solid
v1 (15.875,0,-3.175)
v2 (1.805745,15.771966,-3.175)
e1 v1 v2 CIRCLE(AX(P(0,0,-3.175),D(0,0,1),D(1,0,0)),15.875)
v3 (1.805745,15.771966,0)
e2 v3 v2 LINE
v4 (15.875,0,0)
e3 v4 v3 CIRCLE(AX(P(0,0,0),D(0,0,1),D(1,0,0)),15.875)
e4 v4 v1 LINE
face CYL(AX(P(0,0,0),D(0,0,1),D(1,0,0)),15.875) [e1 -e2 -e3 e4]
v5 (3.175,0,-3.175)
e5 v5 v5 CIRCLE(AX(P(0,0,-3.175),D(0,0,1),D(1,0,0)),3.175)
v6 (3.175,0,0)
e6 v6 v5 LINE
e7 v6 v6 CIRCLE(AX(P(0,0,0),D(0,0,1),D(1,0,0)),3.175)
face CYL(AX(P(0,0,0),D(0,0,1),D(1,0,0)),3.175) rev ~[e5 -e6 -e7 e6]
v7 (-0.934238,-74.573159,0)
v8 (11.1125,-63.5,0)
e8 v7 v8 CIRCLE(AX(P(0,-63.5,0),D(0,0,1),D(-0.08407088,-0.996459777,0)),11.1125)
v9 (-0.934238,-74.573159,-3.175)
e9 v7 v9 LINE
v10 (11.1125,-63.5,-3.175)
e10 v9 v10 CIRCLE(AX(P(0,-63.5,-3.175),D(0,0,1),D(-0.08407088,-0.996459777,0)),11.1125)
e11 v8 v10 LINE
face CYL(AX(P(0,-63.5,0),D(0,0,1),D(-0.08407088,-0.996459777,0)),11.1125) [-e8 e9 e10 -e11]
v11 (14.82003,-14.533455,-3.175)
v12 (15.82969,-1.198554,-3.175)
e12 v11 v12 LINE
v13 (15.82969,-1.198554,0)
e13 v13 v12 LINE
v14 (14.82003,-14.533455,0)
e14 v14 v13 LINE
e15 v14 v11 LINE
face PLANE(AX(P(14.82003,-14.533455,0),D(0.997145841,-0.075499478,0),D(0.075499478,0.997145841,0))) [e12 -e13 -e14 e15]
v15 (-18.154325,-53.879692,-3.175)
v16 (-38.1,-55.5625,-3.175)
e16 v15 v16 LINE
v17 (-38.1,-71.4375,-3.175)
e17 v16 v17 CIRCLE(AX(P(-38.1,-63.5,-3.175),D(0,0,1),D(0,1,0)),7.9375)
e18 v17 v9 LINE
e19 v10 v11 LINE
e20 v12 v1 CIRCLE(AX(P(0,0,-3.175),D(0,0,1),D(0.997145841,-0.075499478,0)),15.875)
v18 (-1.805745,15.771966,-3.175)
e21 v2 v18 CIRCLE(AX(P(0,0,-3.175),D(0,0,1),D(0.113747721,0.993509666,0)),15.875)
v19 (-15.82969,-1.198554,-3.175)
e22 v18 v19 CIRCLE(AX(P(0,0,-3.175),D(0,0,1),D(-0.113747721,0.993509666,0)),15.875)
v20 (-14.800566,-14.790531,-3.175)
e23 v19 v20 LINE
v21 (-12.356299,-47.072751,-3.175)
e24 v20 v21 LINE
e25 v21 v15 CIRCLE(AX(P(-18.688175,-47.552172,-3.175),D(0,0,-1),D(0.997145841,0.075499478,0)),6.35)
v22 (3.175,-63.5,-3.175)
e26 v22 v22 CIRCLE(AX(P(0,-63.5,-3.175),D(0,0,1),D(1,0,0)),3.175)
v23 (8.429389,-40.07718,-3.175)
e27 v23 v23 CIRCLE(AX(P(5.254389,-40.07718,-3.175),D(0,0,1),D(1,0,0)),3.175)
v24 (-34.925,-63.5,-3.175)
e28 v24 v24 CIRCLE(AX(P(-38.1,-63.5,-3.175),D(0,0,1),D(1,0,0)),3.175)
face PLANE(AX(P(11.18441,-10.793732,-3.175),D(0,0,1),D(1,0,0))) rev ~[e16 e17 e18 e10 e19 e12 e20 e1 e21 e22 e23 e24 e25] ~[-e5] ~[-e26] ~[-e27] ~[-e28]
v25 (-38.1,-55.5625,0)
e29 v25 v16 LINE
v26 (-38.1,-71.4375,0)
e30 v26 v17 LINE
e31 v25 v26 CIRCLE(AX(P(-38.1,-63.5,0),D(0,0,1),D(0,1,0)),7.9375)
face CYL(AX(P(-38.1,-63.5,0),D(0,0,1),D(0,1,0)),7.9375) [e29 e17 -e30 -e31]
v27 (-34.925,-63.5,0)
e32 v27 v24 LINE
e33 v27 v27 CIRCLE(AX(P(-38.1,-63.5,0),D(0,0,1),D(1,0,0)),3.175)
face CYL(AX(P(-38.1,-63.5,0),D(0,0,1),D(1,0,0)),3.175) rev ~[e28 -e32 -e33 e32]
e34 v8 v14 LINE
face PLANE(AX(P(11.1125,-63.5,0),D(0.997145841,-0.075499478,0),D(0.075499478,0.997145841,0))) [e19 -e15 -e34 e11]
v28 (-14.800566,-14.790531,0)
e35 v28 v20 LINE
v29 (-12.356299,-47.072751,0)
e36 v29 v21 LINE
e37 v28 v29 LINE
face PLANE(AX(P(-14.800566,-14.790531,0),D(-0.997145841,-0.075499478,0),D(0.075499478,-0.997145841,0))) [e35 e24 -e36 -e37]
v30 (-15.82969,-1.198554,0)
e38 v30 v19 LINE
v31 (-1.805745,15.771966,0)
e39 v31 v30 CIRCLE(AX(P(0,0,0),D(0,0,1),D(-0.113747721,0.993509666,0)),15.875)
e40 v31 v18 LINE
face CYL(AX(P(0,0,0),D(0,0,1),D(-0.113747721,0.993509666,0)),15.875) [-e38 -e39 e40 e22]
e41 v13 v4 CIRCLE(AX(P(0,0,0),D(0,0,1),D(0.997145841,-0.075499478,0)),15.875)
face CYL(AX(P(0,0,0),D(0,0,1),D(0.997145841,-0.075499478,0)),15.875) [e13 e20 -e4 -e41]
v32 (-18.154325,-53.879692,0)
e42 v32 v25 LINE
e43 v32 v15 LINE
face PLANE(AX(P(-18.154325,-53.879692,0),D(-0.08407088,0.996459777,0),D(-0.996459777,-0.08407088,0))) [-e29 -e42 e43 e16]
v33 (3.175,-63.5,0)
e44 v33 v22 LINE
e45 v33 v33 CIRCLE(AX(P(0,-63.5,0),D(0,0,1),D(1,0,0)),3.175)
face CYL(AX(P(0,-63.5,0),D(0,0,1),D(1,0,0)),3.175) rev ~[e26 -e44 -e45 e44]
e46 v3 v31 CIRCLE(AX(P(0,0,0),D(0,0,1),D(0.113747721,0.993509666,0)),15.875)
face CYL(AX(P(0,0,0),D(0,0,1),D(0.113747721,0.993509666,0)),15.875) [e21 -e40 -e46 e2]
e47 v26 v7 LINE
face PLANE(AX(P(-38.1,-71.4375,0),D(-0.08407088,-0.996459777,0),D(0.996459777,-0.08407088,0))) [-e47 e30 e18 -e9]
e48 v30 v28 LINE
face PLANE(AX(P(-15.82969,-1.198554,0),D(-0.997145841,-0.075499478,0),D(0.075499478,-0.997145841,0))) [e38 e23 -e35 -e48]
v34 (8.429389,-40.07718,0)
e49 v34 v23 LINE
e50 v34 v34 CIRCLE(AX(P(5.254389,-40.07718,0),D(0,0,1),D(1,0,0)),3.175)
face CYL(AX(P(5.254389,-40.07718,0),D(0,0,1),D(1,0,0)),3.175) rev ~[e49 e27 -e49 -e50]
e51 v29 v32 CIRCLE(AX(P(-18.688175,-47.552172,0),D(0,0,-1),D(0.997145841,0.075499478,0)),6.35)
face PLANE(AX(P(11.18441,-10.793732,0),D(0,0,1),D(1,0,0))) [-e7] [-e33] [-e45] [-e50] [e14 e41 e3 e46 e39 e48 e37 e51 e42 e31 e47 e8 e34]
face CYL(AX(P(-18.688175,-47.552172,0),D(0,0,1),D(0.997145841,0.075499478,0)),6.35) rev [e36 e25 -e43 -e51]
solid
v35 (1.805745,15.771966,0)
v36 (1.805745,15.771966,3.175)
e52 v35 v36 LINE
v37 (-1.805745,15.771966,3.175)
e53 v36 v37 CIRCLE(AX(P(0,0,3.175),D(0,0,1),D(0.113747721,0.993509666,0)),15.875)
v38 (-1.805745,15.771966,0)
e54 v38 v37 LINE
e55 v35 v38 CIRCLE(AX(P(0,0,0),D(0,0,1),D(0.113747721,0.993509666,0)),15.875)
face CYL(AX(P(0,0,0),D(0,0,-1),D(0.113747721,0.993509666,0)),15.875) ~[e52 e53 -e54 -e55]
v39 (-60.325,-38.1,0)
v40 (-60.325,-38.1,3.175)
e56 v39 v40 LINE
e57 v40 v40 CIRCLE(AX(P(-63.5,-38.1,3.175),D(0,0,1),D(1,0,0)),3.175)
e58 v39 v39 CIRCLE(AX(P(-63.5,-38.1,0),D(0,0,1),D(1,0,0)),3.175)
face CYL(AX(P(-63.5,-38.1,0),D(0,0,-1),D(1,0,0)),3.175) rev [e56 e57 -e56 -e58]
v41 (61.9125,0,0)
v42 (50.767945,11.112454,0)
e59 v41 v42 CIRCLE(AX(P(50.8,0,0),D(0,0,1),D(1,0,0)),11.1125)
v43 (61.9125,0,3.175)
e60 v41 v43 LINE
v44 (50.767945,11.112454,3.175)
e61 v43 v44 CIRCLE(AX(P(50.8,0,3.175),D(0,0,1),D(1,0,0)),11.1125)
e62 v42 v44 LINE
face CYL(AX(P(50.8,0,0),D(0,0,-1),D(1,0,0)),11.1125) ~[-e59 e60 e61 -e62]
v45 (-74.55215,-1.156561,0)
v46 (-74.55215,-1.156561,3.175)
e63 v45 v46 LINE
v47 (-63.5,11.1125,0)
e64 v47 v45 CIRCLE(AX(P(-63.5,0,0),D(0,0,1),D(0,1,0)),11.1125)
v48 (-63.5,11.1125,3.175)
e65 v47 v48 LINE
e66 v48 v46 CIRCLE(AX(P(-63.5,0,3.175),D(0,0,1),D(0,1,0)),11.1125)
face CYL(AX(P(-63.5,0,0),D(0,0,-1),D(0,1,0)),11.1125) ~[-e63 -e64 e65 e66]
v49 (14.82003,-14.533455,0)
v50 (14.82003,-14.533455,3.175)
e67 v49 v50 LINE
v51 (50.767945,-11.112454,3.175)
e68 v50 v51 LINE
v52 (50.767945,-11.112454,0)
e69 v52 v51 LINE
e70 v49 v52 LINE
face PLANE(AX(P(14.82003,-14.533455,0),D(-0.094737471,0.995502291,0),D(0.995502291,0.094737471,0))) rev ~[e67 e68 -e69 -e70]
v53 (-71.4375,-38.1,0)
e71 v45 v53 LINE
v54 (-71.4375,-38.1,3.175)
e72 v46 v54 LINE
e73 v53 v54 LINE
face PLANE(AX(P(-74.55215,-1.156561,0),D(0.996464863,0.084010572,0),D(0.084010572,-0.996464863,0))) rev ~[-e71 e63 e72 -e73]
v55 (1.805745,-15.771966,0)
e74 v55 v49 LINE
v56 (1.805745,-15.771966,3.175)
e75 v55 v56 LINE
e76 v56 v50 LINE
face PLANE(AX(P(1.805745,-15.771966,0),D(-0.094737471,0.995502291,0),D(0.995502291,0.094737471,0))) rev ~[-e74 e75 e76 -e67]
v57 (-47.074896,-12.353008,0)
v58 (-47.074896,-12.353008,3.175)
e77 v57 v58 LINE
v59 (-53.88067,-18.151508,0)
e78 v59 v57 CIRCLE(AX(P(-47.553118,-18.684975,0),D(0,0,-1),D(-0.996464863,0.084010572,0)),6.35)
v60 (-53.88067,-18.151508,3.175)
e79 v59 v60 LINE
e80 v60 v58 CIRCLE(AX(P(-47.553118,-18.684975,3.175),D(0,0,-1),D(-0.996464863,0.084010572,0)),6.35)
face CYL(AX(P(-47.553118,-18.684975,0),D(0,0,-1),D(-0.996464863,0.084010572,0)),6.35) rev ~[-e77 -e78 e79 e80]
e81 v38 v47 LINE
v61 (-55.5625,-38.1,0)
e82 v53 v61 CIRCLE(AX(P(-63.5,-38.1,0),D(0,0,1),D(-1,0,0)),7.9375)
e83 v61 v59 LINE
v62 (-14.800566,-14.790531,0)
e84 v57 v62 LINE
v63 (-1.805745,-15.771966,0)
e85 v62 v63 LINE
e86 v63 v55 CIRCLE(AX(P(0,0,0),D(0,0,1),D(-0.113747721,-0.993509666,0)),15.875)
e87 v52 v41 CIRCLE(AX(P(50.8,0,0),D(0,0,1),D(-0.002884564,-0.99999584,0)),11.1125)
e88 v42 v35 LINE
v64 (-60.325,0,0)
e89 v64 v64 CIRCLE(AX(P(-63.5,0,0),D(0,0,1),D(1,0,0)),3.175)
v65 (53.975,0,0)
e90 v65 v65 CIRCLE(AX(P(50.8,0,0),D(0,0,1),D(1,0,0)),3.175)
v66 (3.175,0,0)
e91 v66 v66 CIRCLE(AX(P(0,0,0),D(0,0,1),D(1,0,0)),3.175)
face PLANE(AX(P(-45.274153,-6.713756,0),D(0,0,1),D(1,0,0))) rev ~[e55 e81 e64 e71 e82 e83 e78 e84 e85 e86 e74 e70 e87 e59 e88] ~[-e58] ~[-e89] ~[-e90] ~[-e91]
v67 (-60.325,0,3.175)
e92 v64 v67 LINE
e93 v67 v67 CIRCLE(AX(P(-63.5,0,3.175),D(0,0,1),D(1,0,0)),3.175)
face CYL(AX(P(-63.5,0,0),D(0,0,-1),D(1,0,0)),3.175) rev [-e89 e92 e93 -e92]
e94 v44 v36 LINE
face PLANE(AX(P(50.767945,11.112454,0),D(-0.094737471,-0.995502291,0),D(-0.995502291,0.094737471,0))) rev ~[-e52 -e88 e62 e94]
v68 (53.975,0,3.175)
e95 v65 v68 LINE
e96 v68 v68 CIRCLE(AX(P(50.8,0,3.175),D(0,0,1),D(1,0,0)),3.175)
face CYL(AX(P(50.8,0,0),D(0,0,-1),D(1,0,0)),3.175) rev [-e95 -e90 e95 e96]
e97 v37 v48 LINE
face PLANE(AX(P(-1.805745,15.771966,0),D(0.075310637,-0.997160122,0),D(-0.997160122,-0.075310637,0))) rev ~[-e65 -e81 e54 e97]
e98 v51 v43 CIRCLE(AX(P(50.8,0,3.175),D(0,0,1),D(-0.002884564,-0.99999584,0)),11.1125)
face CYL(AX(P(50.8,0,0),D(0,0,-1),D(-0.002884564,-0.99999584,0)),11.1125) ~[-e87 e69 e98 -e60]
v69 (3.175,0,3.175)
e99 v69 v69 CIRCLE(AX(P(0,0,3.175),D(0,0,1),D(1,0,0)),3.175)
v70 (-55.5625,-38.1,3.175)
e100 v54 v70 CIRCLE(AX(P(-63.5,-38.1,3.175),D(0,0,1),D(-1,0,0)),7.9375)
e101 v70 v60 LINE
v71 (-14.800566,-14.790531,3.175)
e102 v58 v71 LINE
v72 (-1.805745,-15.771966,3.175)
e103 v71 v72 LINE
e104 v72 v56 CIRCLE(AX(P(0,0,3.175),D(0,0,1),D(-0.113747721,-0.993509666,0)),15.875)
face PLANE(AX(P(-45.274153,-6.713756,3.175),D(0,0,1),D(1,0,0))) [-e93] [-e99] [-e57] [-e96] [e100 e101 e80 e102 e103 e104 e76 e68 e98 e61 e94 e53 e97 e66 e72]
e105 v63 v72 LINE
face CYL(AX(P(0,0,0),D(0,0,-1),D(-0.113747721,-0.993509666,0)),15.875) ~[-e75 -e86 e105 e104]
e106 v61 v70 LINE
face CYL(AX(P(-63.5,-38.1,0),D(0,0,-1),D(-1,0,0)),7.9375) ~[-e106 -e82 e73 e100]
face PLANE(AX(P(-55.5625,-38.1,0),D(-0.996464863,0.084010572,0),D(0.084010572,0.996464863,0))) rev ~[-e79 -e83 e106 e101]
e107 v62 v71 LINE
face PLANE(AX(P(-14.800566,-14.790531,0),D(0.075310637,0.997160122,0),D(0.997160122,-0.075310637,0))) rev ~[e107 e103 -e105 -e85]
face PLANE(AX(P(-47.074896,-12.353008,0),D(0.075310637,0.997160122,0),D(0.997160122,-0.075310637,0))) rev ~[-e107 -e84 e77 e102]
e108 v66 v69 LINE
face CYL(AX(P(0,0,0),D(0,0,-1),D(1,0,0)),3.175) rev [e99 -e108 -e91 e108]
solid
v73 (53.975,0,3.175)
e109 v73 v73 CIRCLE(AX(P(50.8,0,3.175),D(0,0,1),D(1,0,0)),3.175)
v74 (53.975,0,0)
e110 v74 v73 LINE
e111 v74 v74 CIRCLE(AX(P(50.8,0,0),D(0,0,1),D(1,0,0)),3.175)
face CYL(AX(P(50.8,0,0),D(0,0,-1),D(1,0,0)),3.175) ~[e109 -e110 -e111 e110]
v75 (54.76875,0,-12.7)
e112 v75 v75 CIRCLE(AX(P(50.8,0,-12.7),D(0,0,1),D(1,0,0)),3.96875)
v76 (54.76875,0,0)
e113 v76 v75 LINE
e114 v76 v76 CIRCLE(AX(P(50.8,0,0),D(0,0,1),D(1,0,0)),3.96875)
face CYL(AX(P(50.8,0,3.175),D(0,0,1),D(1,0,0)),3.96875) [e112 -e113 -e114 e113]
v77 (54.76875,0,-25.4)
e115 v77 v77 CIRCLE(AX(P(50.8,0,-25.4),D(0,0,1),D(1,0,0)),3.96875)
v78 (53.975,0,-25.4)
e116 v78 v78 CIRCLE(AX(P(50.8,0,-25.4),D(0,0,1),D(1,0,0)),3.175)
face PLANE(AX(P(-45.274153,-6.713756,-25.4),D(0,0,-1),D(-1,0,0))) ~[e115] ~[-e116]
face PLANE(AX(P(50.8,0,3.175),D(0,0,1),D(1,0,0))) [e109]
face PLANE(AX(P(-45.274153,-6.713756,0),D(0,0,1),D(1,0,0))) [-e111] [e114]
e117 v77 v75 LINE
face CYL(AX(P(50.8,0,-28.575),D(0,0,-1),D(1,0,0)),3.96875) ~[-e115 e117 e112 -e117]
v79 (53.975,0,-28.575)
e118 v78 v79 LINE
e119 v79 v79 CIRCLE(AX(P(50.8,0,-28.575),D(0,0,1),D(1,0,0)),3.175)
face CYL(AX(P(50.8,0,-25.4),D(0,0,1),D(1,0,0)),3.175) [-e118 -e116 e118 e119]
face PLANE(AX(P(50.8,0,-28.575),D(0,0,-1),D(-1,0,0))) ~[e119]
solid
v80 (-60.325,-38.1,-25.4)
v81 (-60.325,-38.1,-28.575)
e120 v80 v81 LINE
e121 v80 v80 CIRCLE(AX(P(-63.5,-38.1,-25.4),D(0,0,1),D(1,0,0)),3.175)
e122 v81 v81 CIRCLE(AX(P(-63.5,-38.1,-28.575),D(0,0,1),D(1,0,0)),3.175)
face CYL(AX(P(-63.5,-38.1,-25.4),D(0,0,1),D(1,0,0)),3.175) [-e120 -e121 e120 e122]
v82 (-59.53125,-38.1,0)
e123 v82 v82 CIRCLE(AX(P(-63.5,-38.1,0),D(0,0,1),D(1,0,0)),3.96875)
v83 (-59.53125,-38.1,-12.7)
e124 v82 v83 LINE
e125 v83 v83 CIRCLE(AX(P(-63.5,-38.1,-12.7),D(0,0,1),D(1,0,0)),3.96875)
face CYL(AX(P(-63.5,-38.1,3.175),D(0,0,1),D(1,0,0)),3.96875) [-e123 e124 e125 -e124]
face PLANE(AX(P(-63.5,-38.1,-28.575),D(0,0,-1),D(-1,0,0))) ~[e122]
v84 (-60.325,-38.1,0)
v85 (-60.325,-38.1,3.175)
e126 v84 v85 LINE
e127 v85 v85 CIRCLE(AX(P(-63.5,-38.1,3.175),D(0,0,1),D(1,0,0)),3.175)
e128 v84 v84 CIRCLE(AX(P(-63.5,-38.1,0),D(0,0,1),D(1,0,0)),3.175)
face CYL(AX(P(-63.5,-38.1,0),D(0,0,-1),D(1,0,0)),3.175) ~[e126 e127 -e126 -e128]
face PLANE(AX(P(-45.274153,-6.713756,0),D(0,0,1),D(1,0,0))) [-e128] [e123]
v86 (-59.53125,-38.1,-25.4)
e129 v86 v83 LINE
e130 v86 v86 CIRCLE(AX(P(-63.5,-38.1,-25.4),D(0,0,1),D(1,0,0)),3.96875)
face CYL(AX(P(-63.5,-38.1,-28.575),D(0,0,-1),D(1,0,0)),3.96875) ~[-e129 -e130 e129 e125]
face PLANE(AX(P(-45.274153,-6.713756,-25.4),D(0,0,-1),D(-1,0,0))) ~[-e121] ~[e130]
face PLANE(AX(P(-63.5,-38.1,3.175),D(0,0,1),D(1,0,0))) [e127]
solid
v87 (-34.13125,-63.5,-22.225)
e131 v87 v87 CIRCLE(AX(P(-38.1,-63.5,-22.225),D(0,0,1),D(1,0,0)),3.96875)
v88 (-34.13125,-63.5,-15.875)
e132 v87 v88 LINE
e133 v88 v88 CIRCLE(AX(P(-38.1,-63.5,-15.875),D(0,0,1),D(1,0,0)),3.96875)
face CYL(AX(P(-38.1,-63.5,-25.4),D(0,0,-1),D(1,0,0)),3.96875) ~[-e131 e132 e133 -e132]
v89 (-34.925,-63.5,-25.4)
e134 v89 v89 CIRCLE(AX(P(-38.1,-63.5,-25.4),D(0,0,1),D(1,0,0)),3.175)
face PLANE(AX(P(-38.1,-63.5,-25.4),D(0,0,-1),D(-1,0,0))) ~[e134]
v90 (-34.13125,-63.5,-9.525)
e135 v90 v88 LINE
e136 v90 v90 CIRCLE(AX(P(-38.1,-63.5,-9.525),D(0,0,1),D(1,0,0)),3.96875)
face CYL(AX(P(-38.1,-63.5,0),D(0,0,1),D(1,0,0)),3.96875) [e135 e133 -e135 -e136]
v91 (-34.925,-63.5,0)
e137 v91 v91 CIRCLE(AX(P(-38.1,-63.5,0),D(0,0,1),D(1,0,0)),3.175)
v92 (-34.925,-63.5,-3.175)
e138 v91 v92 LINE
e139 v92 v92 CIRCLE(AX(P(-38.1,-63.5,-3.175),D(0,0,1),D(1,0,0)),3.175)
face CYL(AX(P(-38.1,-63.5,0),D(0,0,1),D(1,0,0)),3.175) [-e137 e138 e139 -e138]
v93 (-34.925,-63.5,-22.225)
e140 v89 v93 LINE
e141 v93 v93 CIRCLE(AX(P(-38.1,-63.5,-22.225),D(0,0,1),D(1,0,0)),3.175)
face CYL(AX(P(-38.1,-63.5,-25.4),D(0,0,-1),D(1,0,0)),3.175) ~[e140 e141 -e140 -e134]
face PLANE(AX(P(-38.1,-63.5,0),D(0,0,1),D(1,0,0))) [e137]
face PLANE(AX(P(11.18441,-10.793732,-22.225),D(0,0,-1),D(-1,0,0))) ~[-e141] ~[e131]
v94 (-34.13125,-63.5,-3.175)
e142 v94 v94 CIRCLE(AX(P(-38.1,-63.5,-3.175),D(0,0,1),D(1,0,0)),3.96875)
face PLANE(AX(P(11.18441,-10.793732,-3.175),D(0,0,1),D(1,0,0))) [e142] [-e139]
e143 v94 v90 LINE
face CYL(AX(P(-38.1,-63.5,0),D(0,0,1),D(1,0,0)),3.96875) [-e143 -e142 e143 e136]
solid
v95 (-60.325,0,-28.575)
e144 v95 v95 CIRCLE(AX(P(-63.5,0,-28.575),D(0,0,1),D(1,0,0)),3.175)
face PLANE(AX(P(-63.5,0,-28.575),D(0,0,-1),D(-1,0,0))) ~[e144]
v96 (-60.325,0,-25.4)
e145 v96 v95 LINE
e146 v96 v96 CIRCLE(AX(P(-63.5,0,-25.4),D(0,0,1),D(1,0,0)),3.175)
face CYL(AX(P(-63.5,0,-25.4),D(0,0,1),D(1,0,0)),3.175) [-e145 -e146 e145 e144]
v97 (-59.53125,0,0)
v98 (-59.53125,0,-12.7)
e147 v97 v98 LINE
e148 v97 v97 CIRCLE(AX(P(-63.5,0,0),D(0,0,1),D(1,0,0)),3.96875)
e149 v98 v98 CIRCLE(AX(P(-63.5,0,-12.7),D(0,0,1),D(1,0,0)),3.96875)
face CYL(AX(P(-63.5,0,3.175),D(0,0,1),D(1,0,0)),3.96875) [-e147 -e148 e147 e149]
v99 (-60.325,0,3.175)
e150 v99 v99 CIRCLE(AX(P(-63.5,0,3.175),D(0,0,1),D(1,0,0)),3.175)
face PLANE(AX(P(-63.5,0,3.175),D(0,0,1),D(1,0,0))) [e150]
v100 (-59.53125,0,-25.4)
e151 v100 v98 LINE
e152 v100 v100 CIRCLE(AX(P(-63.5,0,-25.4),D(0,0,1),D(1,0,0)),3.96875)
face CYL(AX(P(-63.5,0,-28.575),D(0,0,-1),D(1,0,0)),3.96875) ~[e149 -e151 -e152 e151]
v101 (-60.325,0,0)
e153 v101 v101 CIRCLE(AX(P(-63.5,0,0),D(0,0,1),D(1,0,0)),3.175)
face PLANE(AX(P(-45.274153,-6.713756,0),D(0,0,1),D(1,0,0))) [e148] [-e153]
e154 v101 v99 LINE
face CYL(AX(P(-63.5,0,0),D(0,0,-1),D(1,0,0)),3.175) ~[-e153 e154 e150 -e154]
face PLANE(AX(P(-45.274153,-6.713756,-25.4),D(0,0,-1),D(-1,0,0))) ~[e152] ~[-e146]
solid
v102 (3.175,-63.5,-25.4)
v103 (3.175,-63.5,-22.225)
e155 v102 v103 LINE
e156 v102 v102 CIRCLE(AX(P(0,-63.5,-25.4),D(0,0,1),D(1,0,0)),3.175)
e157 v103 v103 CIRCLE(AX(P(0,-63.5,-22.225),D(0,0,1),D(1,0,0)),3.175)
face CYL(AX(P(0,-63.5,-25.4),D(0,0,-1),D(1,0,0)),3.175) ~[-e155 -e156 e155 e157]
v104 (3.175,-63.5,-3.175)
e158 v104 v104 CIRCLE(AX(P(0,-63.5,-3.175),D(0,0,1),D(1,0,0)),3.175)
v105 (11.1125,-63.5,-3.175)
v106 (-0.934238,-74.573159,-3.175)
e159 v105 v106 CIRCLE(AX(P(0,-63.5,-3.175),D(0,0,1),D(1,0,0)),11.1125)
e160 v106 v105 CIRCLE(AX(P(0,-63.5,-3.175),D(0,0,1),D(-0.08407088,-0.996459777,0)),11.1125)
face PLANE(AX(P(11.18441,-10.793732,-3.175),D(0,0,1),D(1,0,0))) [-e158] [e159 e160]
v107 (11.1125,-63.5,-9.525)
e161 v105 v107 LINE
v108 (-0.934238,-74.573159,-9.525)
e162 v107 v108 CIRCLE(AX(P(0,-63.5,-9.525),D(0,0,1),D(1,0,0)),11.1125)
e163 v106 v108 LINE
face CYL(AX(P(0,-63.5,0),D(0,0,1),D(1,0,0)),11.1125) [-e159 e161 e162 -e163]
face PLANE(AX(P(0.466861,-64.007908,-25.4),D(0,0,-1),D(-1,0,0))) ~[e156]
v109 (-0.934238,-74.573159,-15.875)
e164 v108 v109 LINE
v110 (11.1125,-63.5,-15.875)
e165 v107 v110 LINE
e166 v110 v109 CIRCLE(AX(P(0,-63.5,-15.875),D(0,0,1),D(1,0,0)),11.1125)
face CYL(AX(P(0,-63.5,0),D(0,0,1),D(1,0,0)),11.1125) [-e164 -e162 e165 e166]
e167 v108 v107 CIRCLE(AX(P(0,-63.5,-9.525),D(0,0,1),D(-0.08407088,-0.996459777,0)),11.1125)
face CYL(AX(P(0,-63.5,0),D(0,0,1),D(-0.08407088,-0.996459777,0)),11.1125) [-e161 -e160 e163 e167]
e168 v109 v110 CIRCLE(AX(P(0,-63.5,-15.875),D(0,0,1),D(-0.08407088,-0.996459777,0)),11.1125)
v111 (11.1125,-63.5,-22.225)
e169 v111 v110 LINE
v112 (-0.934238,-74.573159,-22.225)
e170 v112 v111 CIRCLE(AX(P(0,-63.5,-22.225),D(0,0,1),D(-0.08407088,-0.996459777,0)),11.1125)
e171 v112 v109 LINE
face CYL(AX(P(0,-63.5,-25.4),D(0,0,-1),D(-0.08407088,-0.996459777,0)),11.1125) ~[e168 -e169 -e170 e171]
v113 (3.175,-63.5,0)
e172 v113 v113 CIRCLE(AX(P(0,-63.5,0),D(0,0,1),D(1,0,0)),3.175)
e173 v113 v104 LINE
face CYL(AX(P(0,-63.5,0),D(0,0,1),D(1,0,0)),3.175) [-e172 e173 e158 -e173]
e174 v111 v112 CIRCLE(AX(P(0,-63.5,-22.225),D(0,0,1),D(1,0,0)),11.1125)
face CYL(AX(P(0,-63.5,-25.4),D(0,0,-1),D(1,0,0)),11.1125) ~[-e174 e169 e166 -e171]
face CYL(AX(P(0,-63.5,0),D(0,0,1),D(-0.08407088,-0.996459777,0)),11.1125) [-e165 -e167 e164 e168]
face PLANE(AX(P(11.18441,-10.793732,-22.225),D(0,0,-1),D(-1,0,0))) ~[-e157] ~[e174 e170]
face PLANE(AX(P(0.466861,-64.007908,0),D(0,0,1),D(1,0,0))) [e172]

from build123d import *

# Parameters (mm, degrees)
F0_R     = 3.175
F1_DEPTH = 3.175
F2_DEPTH = 3.175
F3_R     = 3.96875
F3_R_2   = 3.175
F6_DEPTH = 15.875
F4_R     = 3.96875
F4_R_2   = 3.175


with BuildPart() as f1:
    # F0 (on Top) → F1 (new body)
    with BuildSketch(Plane.XY):
        with BuildLine():
            ThreePointArc((-15.8296902309, -1.1985542096), (-12.2373111058, 10.1125586228), (-1.8057450656, 15.7719659446))
            Line((-1.8057450656, 15.7719659446), (-63.5, 11.1125))
            ThreePointArc((-63.5, 11.1125), (-55.6422758941, 7.8577241059), (-52.3875, 0))
            ThreePointArc((-52.3875, 0), (-62.9209329837, -11.0974022925), (-74.552150194, -1.156560564))
            Line((-74.552150194, -1.156560564), (-71.4375, -38.1))
            ThreePointArc((-71.4375, -38.1), (-63.5, -30.1625), (-55.5625, -38.1))
            Line((-55.5625, -38.1), (-53.8806702431, -18.1515075871))
            ThreePointArc((-53.8806702431, -18.1515075871), (-51.6712870007, -13.8514266379), (-47.0748958173, -12.3530079477))
            Line((-47.0748958173, -12.3530079477), (-14.8005658302, -14.7905305602))
            Line((-14.8005658302, -14.7905305602), (-15.8296902309, -1.1985542096))
        make_face()
        with BuildLine():
            ThreePointArc((-52.3875, 0), (-55.6422758941, 7.8577241059), (-63.5, 11.1125))
            ThreePointArc((-63.5, 11.1125), (-71.7565106285, 7.4375862006), (-74.552150194, -1.156560564))
            ThreePointArc((-74.552150194, -1.156560564), (-62.9209329837, -11.0974022925), (-52.3875, 0))
        make_face()
        with Locations((-63.5, 0)):
            Circle(F0_R, mode=Mode.SUBTRACT)
        with BuildLine():
            ThreePointArc((-55.5625, -38.1), (-63.5, -30.1625), (-71.4375, -38.1))
            ThreePointArc((-71.4375, -38.1), (-63.5, -46.0375), (-55.5625, -38.1))
        make_face()
        with Locations((-63.5, -38.1)):
            Circle(F0_R, mode=Mode.SUBTRACT)
        with BuildLine():
            ThreePointArc((15.8296902309, -1.1985542096), (15.8636685136, -0.599705171), (15.875, 0))
            ThreePointArc((15.875, 0), (11.8465570508, 10.5676256104), (1.8057450656, 15.7719659446))
            ThreePointArc((1.8057450656, 15.7719659446), (0, 15.875), (-1.8057450656, 15.7719659446))
            ThreePointArc((-1.8057450656, 15.7719659446), (-12.2373111058, 10.1125586228), (-15.8296902309, -1.1985542096))
            ThreePointArc((-15.8296902309, -1.1985542096), (-11.4388909831, -11.0076063736), (-1.8057450656, -15.7719659446))
            ThreePointArc((-1.8057450656, -15.7719659446), (0, -15.875), (1.8057450656, -15.7719659446))
            ThreePointArc((1.8057450656, -15.7719659446), (11.4388909831, -11.0076063736), (15.8296902309, -1.1985542096))
        make_face()
        Circle(F0_R, mode=Mode.SUBTRACT)
        with BuildLine():
            ThreePointArc((-1.8057450656, -15.7719659446), (-11.4388909831, -11.0076063736), (-15.8296902309, -1.1985542096))
            Line((-15.8296902309, -1.1985542096), (-14.8005658302, -14.7905305602))
            Line((-14.8005658302, -14.7905305602), (-1.8057450656, -15.7719659446))
        make_face()
        with BuildLine():
            Line((14.8200304566, -14.5334549916), (15.8296902309, -1.1985542096))
            ThreePointArc((15.8296902309, -1.1985542096), (11.4388909831, -11.0076063736), (1.8057450656, -15.7719659446))
            Line((1.8057450656, -15.7719659446), (14.8200304566, -14.5334549916))
        make_face()
        with BuildLine():
            ThreePointArc((1.8057450656, 15.7719659446), (11.8465570508, 10.5676256104), (15.875, 0))
            ThreePointArc((15.875, 0), (15.8636685136, -0.599705171), (15.8296902309, -1.1985542096))
            Line((15.8296902309, -1.1985542096), (14.8200304566, -14.5334549916))
            Line((14.8200304566, -14.5334549916), (50.7679452798, -11.112453768))
            ThreePointArc((50.7679452798, -11.112453768), (39.6875, 0), (50.7679452798, 11.112453768))
            Line((50.7679452798, 11.112453768), (1.8057450656, 15.7719659446))
        make_face()
        with BuildLine():
            ThreePointArc((61.9125, 0), (58.6463828664, 7.869049), (50.7679452798, 11.112453768))
            ThreePointArc((50.7679452798, 11.112453768), (39.6875, 0), (50.7679452798, -11.112453768))
            ThreePointArc((50.7679452798, -11.112453768), (58.6463828664, -7.869049), (61.9125, 0))
        make_face()
        with Locations((50.8, 0)):
            Circle(F0_R, mode=Mode.SUBTRACT)
    extrude(amount=F1_DEPTH)


with BuildPart() as f2:
    # F0 (on Top) → F2 (new body)
    with BuildSketch(Plane.XY):
        with BuildLine():
            Line((14.8200304566, -14.5334549916), (15.8296902309, -1.1985542096))
            ThreePointArc((15.8296902309, -1.1985542096), (11.4388909831, -11.0076063736), (1.8057450656, -15.7719659446))
            Line((1.8057450656, -15.7719659446), (14.8200304566, -14.5334549916))
        make_face()
        with BuildLine():
            ThreePointArc((-1.8057450656, -15.7719659446), (-11.4388909831, -11.0076063736), (-15.8296902309, -1.1985542096))
            Line((-15.8296902309, -1.1985542096), (-14.8005658302, -14.7905305602))
            Line((-14.8005658302, -14.7905305602), (-1.8057450656, -15.7719659446))
        make_face()
        with BuildLine():
            ThreePointArc((15.8296902309, -1.1985542096), (15.8636685136, -0.599705171), (15.875, 0))
            ThreePointArc((15.875, 0), (11.8465570508, 10.5676256104), (1.8057450656, 15.7719659446))
            ThreePointArc((1.8057450656, 15.7719659446), (0, 15.875), (-1.8057450656, 15.7719659446))
            ThreePointArc((-1.8057450656, 15.7719659446), (-12.2373111058, 10.1125586228), (-15.8296902309, -1.1985542096))
            ThreePointArc((-15.8296902309, -1.1985542096), (-11.4388909831, -11.0076063736), (-1.8057450656, -15.7719659446))
            ThreePointArc((-1.8057450656, -15.7719659446), (0, -15.875), (1.8057450656, -15.7719659446))
            ThreePointArc((1.8057450656, -15.7719659446), (11.4388909831, -11.0076063736), (15.8296902309, -1.1985542096))
        make_face()
        Circle(F0_R, mode=Mode.SUBTRACT)
        with BuildLine():
            Line((14.8200304566, -14.5334549916), (1.8057450656, -15.7719659446))
            ThreePointArc((1.8057450656, -15.7719659446), (0, -15.875), (-1.8057450656, -15.7719659446))
            Line((-1.8057450656, -15.7719659446), (-14.8005658302, -14.7905305602))
            Line((-14.8005658302, -14.7905305602), (-12.3562987385, -47.0727507499))
            ThreePointArc((-12.3562987385, -47.0727507499), (-13.8541122178, -51.6697370845), (-18.1543247442, -53.8796920177))
            Line((-18.1543247442, -53.8796920177), (-38.1, -55.5625))
            ThreePointArc((-38.1, -55.5625), (-32.4873399243, -57.8873399243), (-30.1625, -63.5))
            ThreePointArc((-30.1625, -63.5), (-32.4873399243, -69.1126600757), (-38.1, -71.4375))
            Line((-38.1, -71.4375), (-0.9342376517, -74.5731592719))
            ThreePointArc((-0.9342376517, -74.5731592719), (-7.5201708872, -55.3186378837), (11.1125, -63.5))
            Line((11.1125, -63.5), (14.8200304566, -14.5334549916))
        make_face()
        with Locations((5.2543892525, -40.0771796703)):
            Circle(F0_R, mode=Mode.SUBTRACT)
        with BuildLine():
            ThreePointArc((-0.9342376517, -74.5731592719), (7.5201708872, -71.6813621163), (11.1125, -63.5))
            ThreePointArc((11.1125, -63.5), (-7.5201708872, -55.3186378837), (-0.9342376517, -74.5731592719))
        make_face()
        with Locations((0, -63.5)):
            Circle(F0_R, mode=Mode.SUBTRACT)
        with BuildLine():
            ThreePointArc((-38.1, -55.5625), (-46.0375, -63.5), (-38.1, -71.4375))
            ThreePointArc((-38.1, -71.4375), (-32.4873399243, -69.1126600757), (-30.1625, -63.5))
            ThreePointArc((-30.1625, -63.5), (-32.4873399243, -57.8873399243), (-38.1, -55.5625))
        make_face()
        with Locations((-38.1, -63.5)):
            Circle(F0_R, mode=Mode.SUBTRACT)
    extrude(amount=-F2_DEPTH)


with BuildPart() as f6:
    # F3 (on face) → F6 (new body, through all)
    with BuildSketch(Plane.XY.offset(3.175)):
        with Locations((-63.5, 0)):
            Circle(F3_R)
        with Locations((-63.5, 0)):
            Circle(F3_R_2, mode=Mode.SUBTRACT)
        with Locations((-63.5, 0)):
            Circle(F3_R_2)
    extrude(amount=-F6_DEPTH)

    # F7: cut F1, F2
    add(f1.part, mode=Mode.SUBTRACT)
    add(f2.part, mode=Mode.SUBTRACT)



with BuildPart() as f6b:
    # F3 (on face) → F6, piece 2 (new body, through all)
    with BuildSketch(Plane.XY.offset(3.175)):
        with Locations((-63.5, -38.1)):
            Circle(F3_R)
        with Locations((-63.5, -38.1)):
            Circle(F3_R_2, mode=Mode.SUBTRACT)
        with Locations((-63.5, -38.1)):
            Circle(F3_R_2)
    extrude(amount=-F6_DEPTH)

    # F7: cut F1, F2
    add(f1.part, mode=Mode.SUBTRACT)
    add(f2.part, mode=Mode.SUBTRACT)


with BuildPart() as f6c:
    # F3 (on face) → F6, piece 3 (new body, through all)
    with BuildSketch(Plane.XY.offset(3.175)):
        with Locations((50.8, 0)):
            Circle(F3_R)
        with Locations((50.8, 0)):
            Circle(F3_R_2, mode=Mode.SUBTRACT)
        with Locations((50.8, 0)):
            Circle(F3_R_2)
    extrude(amount=-F6_DEPTH)

    # F7: cut F1, F2
    add(f1.part, mode=Mode.SUBTRACT)
    add(f2.part, mode=Mode.SUBTRACT)


with BuildPart() as f6d:
    # F4 (on face) → F6, piece 4 (new body, through all)
    with BuildSketch(Plane.XY):
        with Locations((-38.1, -63.5)):
            Circle(F4_R)
        with Locations((-38.1, -63.5)):
            Circle(F4_R_2, mode=Mode.SUBTRACT)
    extrude(amount=-F6_DEPTH)

    # F7: cut F1, F2
    add(f1.part, mode=Mode.SUBTRACT)
    add(f2.part, mode=Mode.SUBTRACT)


with BuildPart() as f6e:
    # F0 (on Top) → F6, piece 5 (new body, through all)
    with BuildSketch(Plane.XY):
        with BuildLine():
            ThreePointArc((-0.9342376517, -74.5731592719), (7.5201708872, -71.6813621163), (11.1125, -63.5))
            ThreePointArc((11.1125, -63.5), (-7.5201708872, -55.3186378837), (-0.9342376517, -74.5731592719))
        make_face()
        with Locations((0, -63.5)):
            Circle(F0_R, mode=Mode.SUBTRACT)
        with Locations((0, -63.5)):
            Circle(F0_R)
    extrude(amount=-F6_DEPTH)

    # F7: cut F1, F2
    add(f1.part, mode=Mode.SUBTRACT)
    add(f2.part, mode=Mode.SUBTRACT)


with BuildPart() as f6f:
    # F0 (on Top) → F6, piece 6 (new body, through all)
    with BuildSketch(Plane.XY):
        with Locations((-38.1, -63.5)):
            Circle(F0_R)
    extrude(amount=-F6_DEPTH)

    # F7: cut F1, F2
    add(f1.part, mode=Mode.SUBTRACT)
    add(f2.part, mode=Mode.SUBTRACT)


with BuildPart() as f6_1:
    add(f6.part)

    add(f6b.part)  # F8 merges F6b

    add(f6c.part)  # F8 merges F6c

    add(f6d.part)  # F8 merges F6d

    add(f6e.part)  # F8 merges F6e

    add(f6f.part)  # F8 merges F6f
    # F8: F6b, F6, F6d, F6f, F6e, F6c across plane
    add(f6b.part.mirror(Plane.XY.offset(-12.7)))
    add(f6.part.mirror(Plane.XY.offset(-12.7)))
    add(f6d.part.mirror(Plane.XY.offset(-12.7)))
    add(f6f.part.mirror(Plane.XY.offset(-12.7)))
    add(f6e.part.mirror(Plane.XY.offset(-12.7)))
    add(f6c.part.mirror(Plane.XY.offset(-12.7)))


solid = Compound([f1.part, f2.part, f6_1.part])
